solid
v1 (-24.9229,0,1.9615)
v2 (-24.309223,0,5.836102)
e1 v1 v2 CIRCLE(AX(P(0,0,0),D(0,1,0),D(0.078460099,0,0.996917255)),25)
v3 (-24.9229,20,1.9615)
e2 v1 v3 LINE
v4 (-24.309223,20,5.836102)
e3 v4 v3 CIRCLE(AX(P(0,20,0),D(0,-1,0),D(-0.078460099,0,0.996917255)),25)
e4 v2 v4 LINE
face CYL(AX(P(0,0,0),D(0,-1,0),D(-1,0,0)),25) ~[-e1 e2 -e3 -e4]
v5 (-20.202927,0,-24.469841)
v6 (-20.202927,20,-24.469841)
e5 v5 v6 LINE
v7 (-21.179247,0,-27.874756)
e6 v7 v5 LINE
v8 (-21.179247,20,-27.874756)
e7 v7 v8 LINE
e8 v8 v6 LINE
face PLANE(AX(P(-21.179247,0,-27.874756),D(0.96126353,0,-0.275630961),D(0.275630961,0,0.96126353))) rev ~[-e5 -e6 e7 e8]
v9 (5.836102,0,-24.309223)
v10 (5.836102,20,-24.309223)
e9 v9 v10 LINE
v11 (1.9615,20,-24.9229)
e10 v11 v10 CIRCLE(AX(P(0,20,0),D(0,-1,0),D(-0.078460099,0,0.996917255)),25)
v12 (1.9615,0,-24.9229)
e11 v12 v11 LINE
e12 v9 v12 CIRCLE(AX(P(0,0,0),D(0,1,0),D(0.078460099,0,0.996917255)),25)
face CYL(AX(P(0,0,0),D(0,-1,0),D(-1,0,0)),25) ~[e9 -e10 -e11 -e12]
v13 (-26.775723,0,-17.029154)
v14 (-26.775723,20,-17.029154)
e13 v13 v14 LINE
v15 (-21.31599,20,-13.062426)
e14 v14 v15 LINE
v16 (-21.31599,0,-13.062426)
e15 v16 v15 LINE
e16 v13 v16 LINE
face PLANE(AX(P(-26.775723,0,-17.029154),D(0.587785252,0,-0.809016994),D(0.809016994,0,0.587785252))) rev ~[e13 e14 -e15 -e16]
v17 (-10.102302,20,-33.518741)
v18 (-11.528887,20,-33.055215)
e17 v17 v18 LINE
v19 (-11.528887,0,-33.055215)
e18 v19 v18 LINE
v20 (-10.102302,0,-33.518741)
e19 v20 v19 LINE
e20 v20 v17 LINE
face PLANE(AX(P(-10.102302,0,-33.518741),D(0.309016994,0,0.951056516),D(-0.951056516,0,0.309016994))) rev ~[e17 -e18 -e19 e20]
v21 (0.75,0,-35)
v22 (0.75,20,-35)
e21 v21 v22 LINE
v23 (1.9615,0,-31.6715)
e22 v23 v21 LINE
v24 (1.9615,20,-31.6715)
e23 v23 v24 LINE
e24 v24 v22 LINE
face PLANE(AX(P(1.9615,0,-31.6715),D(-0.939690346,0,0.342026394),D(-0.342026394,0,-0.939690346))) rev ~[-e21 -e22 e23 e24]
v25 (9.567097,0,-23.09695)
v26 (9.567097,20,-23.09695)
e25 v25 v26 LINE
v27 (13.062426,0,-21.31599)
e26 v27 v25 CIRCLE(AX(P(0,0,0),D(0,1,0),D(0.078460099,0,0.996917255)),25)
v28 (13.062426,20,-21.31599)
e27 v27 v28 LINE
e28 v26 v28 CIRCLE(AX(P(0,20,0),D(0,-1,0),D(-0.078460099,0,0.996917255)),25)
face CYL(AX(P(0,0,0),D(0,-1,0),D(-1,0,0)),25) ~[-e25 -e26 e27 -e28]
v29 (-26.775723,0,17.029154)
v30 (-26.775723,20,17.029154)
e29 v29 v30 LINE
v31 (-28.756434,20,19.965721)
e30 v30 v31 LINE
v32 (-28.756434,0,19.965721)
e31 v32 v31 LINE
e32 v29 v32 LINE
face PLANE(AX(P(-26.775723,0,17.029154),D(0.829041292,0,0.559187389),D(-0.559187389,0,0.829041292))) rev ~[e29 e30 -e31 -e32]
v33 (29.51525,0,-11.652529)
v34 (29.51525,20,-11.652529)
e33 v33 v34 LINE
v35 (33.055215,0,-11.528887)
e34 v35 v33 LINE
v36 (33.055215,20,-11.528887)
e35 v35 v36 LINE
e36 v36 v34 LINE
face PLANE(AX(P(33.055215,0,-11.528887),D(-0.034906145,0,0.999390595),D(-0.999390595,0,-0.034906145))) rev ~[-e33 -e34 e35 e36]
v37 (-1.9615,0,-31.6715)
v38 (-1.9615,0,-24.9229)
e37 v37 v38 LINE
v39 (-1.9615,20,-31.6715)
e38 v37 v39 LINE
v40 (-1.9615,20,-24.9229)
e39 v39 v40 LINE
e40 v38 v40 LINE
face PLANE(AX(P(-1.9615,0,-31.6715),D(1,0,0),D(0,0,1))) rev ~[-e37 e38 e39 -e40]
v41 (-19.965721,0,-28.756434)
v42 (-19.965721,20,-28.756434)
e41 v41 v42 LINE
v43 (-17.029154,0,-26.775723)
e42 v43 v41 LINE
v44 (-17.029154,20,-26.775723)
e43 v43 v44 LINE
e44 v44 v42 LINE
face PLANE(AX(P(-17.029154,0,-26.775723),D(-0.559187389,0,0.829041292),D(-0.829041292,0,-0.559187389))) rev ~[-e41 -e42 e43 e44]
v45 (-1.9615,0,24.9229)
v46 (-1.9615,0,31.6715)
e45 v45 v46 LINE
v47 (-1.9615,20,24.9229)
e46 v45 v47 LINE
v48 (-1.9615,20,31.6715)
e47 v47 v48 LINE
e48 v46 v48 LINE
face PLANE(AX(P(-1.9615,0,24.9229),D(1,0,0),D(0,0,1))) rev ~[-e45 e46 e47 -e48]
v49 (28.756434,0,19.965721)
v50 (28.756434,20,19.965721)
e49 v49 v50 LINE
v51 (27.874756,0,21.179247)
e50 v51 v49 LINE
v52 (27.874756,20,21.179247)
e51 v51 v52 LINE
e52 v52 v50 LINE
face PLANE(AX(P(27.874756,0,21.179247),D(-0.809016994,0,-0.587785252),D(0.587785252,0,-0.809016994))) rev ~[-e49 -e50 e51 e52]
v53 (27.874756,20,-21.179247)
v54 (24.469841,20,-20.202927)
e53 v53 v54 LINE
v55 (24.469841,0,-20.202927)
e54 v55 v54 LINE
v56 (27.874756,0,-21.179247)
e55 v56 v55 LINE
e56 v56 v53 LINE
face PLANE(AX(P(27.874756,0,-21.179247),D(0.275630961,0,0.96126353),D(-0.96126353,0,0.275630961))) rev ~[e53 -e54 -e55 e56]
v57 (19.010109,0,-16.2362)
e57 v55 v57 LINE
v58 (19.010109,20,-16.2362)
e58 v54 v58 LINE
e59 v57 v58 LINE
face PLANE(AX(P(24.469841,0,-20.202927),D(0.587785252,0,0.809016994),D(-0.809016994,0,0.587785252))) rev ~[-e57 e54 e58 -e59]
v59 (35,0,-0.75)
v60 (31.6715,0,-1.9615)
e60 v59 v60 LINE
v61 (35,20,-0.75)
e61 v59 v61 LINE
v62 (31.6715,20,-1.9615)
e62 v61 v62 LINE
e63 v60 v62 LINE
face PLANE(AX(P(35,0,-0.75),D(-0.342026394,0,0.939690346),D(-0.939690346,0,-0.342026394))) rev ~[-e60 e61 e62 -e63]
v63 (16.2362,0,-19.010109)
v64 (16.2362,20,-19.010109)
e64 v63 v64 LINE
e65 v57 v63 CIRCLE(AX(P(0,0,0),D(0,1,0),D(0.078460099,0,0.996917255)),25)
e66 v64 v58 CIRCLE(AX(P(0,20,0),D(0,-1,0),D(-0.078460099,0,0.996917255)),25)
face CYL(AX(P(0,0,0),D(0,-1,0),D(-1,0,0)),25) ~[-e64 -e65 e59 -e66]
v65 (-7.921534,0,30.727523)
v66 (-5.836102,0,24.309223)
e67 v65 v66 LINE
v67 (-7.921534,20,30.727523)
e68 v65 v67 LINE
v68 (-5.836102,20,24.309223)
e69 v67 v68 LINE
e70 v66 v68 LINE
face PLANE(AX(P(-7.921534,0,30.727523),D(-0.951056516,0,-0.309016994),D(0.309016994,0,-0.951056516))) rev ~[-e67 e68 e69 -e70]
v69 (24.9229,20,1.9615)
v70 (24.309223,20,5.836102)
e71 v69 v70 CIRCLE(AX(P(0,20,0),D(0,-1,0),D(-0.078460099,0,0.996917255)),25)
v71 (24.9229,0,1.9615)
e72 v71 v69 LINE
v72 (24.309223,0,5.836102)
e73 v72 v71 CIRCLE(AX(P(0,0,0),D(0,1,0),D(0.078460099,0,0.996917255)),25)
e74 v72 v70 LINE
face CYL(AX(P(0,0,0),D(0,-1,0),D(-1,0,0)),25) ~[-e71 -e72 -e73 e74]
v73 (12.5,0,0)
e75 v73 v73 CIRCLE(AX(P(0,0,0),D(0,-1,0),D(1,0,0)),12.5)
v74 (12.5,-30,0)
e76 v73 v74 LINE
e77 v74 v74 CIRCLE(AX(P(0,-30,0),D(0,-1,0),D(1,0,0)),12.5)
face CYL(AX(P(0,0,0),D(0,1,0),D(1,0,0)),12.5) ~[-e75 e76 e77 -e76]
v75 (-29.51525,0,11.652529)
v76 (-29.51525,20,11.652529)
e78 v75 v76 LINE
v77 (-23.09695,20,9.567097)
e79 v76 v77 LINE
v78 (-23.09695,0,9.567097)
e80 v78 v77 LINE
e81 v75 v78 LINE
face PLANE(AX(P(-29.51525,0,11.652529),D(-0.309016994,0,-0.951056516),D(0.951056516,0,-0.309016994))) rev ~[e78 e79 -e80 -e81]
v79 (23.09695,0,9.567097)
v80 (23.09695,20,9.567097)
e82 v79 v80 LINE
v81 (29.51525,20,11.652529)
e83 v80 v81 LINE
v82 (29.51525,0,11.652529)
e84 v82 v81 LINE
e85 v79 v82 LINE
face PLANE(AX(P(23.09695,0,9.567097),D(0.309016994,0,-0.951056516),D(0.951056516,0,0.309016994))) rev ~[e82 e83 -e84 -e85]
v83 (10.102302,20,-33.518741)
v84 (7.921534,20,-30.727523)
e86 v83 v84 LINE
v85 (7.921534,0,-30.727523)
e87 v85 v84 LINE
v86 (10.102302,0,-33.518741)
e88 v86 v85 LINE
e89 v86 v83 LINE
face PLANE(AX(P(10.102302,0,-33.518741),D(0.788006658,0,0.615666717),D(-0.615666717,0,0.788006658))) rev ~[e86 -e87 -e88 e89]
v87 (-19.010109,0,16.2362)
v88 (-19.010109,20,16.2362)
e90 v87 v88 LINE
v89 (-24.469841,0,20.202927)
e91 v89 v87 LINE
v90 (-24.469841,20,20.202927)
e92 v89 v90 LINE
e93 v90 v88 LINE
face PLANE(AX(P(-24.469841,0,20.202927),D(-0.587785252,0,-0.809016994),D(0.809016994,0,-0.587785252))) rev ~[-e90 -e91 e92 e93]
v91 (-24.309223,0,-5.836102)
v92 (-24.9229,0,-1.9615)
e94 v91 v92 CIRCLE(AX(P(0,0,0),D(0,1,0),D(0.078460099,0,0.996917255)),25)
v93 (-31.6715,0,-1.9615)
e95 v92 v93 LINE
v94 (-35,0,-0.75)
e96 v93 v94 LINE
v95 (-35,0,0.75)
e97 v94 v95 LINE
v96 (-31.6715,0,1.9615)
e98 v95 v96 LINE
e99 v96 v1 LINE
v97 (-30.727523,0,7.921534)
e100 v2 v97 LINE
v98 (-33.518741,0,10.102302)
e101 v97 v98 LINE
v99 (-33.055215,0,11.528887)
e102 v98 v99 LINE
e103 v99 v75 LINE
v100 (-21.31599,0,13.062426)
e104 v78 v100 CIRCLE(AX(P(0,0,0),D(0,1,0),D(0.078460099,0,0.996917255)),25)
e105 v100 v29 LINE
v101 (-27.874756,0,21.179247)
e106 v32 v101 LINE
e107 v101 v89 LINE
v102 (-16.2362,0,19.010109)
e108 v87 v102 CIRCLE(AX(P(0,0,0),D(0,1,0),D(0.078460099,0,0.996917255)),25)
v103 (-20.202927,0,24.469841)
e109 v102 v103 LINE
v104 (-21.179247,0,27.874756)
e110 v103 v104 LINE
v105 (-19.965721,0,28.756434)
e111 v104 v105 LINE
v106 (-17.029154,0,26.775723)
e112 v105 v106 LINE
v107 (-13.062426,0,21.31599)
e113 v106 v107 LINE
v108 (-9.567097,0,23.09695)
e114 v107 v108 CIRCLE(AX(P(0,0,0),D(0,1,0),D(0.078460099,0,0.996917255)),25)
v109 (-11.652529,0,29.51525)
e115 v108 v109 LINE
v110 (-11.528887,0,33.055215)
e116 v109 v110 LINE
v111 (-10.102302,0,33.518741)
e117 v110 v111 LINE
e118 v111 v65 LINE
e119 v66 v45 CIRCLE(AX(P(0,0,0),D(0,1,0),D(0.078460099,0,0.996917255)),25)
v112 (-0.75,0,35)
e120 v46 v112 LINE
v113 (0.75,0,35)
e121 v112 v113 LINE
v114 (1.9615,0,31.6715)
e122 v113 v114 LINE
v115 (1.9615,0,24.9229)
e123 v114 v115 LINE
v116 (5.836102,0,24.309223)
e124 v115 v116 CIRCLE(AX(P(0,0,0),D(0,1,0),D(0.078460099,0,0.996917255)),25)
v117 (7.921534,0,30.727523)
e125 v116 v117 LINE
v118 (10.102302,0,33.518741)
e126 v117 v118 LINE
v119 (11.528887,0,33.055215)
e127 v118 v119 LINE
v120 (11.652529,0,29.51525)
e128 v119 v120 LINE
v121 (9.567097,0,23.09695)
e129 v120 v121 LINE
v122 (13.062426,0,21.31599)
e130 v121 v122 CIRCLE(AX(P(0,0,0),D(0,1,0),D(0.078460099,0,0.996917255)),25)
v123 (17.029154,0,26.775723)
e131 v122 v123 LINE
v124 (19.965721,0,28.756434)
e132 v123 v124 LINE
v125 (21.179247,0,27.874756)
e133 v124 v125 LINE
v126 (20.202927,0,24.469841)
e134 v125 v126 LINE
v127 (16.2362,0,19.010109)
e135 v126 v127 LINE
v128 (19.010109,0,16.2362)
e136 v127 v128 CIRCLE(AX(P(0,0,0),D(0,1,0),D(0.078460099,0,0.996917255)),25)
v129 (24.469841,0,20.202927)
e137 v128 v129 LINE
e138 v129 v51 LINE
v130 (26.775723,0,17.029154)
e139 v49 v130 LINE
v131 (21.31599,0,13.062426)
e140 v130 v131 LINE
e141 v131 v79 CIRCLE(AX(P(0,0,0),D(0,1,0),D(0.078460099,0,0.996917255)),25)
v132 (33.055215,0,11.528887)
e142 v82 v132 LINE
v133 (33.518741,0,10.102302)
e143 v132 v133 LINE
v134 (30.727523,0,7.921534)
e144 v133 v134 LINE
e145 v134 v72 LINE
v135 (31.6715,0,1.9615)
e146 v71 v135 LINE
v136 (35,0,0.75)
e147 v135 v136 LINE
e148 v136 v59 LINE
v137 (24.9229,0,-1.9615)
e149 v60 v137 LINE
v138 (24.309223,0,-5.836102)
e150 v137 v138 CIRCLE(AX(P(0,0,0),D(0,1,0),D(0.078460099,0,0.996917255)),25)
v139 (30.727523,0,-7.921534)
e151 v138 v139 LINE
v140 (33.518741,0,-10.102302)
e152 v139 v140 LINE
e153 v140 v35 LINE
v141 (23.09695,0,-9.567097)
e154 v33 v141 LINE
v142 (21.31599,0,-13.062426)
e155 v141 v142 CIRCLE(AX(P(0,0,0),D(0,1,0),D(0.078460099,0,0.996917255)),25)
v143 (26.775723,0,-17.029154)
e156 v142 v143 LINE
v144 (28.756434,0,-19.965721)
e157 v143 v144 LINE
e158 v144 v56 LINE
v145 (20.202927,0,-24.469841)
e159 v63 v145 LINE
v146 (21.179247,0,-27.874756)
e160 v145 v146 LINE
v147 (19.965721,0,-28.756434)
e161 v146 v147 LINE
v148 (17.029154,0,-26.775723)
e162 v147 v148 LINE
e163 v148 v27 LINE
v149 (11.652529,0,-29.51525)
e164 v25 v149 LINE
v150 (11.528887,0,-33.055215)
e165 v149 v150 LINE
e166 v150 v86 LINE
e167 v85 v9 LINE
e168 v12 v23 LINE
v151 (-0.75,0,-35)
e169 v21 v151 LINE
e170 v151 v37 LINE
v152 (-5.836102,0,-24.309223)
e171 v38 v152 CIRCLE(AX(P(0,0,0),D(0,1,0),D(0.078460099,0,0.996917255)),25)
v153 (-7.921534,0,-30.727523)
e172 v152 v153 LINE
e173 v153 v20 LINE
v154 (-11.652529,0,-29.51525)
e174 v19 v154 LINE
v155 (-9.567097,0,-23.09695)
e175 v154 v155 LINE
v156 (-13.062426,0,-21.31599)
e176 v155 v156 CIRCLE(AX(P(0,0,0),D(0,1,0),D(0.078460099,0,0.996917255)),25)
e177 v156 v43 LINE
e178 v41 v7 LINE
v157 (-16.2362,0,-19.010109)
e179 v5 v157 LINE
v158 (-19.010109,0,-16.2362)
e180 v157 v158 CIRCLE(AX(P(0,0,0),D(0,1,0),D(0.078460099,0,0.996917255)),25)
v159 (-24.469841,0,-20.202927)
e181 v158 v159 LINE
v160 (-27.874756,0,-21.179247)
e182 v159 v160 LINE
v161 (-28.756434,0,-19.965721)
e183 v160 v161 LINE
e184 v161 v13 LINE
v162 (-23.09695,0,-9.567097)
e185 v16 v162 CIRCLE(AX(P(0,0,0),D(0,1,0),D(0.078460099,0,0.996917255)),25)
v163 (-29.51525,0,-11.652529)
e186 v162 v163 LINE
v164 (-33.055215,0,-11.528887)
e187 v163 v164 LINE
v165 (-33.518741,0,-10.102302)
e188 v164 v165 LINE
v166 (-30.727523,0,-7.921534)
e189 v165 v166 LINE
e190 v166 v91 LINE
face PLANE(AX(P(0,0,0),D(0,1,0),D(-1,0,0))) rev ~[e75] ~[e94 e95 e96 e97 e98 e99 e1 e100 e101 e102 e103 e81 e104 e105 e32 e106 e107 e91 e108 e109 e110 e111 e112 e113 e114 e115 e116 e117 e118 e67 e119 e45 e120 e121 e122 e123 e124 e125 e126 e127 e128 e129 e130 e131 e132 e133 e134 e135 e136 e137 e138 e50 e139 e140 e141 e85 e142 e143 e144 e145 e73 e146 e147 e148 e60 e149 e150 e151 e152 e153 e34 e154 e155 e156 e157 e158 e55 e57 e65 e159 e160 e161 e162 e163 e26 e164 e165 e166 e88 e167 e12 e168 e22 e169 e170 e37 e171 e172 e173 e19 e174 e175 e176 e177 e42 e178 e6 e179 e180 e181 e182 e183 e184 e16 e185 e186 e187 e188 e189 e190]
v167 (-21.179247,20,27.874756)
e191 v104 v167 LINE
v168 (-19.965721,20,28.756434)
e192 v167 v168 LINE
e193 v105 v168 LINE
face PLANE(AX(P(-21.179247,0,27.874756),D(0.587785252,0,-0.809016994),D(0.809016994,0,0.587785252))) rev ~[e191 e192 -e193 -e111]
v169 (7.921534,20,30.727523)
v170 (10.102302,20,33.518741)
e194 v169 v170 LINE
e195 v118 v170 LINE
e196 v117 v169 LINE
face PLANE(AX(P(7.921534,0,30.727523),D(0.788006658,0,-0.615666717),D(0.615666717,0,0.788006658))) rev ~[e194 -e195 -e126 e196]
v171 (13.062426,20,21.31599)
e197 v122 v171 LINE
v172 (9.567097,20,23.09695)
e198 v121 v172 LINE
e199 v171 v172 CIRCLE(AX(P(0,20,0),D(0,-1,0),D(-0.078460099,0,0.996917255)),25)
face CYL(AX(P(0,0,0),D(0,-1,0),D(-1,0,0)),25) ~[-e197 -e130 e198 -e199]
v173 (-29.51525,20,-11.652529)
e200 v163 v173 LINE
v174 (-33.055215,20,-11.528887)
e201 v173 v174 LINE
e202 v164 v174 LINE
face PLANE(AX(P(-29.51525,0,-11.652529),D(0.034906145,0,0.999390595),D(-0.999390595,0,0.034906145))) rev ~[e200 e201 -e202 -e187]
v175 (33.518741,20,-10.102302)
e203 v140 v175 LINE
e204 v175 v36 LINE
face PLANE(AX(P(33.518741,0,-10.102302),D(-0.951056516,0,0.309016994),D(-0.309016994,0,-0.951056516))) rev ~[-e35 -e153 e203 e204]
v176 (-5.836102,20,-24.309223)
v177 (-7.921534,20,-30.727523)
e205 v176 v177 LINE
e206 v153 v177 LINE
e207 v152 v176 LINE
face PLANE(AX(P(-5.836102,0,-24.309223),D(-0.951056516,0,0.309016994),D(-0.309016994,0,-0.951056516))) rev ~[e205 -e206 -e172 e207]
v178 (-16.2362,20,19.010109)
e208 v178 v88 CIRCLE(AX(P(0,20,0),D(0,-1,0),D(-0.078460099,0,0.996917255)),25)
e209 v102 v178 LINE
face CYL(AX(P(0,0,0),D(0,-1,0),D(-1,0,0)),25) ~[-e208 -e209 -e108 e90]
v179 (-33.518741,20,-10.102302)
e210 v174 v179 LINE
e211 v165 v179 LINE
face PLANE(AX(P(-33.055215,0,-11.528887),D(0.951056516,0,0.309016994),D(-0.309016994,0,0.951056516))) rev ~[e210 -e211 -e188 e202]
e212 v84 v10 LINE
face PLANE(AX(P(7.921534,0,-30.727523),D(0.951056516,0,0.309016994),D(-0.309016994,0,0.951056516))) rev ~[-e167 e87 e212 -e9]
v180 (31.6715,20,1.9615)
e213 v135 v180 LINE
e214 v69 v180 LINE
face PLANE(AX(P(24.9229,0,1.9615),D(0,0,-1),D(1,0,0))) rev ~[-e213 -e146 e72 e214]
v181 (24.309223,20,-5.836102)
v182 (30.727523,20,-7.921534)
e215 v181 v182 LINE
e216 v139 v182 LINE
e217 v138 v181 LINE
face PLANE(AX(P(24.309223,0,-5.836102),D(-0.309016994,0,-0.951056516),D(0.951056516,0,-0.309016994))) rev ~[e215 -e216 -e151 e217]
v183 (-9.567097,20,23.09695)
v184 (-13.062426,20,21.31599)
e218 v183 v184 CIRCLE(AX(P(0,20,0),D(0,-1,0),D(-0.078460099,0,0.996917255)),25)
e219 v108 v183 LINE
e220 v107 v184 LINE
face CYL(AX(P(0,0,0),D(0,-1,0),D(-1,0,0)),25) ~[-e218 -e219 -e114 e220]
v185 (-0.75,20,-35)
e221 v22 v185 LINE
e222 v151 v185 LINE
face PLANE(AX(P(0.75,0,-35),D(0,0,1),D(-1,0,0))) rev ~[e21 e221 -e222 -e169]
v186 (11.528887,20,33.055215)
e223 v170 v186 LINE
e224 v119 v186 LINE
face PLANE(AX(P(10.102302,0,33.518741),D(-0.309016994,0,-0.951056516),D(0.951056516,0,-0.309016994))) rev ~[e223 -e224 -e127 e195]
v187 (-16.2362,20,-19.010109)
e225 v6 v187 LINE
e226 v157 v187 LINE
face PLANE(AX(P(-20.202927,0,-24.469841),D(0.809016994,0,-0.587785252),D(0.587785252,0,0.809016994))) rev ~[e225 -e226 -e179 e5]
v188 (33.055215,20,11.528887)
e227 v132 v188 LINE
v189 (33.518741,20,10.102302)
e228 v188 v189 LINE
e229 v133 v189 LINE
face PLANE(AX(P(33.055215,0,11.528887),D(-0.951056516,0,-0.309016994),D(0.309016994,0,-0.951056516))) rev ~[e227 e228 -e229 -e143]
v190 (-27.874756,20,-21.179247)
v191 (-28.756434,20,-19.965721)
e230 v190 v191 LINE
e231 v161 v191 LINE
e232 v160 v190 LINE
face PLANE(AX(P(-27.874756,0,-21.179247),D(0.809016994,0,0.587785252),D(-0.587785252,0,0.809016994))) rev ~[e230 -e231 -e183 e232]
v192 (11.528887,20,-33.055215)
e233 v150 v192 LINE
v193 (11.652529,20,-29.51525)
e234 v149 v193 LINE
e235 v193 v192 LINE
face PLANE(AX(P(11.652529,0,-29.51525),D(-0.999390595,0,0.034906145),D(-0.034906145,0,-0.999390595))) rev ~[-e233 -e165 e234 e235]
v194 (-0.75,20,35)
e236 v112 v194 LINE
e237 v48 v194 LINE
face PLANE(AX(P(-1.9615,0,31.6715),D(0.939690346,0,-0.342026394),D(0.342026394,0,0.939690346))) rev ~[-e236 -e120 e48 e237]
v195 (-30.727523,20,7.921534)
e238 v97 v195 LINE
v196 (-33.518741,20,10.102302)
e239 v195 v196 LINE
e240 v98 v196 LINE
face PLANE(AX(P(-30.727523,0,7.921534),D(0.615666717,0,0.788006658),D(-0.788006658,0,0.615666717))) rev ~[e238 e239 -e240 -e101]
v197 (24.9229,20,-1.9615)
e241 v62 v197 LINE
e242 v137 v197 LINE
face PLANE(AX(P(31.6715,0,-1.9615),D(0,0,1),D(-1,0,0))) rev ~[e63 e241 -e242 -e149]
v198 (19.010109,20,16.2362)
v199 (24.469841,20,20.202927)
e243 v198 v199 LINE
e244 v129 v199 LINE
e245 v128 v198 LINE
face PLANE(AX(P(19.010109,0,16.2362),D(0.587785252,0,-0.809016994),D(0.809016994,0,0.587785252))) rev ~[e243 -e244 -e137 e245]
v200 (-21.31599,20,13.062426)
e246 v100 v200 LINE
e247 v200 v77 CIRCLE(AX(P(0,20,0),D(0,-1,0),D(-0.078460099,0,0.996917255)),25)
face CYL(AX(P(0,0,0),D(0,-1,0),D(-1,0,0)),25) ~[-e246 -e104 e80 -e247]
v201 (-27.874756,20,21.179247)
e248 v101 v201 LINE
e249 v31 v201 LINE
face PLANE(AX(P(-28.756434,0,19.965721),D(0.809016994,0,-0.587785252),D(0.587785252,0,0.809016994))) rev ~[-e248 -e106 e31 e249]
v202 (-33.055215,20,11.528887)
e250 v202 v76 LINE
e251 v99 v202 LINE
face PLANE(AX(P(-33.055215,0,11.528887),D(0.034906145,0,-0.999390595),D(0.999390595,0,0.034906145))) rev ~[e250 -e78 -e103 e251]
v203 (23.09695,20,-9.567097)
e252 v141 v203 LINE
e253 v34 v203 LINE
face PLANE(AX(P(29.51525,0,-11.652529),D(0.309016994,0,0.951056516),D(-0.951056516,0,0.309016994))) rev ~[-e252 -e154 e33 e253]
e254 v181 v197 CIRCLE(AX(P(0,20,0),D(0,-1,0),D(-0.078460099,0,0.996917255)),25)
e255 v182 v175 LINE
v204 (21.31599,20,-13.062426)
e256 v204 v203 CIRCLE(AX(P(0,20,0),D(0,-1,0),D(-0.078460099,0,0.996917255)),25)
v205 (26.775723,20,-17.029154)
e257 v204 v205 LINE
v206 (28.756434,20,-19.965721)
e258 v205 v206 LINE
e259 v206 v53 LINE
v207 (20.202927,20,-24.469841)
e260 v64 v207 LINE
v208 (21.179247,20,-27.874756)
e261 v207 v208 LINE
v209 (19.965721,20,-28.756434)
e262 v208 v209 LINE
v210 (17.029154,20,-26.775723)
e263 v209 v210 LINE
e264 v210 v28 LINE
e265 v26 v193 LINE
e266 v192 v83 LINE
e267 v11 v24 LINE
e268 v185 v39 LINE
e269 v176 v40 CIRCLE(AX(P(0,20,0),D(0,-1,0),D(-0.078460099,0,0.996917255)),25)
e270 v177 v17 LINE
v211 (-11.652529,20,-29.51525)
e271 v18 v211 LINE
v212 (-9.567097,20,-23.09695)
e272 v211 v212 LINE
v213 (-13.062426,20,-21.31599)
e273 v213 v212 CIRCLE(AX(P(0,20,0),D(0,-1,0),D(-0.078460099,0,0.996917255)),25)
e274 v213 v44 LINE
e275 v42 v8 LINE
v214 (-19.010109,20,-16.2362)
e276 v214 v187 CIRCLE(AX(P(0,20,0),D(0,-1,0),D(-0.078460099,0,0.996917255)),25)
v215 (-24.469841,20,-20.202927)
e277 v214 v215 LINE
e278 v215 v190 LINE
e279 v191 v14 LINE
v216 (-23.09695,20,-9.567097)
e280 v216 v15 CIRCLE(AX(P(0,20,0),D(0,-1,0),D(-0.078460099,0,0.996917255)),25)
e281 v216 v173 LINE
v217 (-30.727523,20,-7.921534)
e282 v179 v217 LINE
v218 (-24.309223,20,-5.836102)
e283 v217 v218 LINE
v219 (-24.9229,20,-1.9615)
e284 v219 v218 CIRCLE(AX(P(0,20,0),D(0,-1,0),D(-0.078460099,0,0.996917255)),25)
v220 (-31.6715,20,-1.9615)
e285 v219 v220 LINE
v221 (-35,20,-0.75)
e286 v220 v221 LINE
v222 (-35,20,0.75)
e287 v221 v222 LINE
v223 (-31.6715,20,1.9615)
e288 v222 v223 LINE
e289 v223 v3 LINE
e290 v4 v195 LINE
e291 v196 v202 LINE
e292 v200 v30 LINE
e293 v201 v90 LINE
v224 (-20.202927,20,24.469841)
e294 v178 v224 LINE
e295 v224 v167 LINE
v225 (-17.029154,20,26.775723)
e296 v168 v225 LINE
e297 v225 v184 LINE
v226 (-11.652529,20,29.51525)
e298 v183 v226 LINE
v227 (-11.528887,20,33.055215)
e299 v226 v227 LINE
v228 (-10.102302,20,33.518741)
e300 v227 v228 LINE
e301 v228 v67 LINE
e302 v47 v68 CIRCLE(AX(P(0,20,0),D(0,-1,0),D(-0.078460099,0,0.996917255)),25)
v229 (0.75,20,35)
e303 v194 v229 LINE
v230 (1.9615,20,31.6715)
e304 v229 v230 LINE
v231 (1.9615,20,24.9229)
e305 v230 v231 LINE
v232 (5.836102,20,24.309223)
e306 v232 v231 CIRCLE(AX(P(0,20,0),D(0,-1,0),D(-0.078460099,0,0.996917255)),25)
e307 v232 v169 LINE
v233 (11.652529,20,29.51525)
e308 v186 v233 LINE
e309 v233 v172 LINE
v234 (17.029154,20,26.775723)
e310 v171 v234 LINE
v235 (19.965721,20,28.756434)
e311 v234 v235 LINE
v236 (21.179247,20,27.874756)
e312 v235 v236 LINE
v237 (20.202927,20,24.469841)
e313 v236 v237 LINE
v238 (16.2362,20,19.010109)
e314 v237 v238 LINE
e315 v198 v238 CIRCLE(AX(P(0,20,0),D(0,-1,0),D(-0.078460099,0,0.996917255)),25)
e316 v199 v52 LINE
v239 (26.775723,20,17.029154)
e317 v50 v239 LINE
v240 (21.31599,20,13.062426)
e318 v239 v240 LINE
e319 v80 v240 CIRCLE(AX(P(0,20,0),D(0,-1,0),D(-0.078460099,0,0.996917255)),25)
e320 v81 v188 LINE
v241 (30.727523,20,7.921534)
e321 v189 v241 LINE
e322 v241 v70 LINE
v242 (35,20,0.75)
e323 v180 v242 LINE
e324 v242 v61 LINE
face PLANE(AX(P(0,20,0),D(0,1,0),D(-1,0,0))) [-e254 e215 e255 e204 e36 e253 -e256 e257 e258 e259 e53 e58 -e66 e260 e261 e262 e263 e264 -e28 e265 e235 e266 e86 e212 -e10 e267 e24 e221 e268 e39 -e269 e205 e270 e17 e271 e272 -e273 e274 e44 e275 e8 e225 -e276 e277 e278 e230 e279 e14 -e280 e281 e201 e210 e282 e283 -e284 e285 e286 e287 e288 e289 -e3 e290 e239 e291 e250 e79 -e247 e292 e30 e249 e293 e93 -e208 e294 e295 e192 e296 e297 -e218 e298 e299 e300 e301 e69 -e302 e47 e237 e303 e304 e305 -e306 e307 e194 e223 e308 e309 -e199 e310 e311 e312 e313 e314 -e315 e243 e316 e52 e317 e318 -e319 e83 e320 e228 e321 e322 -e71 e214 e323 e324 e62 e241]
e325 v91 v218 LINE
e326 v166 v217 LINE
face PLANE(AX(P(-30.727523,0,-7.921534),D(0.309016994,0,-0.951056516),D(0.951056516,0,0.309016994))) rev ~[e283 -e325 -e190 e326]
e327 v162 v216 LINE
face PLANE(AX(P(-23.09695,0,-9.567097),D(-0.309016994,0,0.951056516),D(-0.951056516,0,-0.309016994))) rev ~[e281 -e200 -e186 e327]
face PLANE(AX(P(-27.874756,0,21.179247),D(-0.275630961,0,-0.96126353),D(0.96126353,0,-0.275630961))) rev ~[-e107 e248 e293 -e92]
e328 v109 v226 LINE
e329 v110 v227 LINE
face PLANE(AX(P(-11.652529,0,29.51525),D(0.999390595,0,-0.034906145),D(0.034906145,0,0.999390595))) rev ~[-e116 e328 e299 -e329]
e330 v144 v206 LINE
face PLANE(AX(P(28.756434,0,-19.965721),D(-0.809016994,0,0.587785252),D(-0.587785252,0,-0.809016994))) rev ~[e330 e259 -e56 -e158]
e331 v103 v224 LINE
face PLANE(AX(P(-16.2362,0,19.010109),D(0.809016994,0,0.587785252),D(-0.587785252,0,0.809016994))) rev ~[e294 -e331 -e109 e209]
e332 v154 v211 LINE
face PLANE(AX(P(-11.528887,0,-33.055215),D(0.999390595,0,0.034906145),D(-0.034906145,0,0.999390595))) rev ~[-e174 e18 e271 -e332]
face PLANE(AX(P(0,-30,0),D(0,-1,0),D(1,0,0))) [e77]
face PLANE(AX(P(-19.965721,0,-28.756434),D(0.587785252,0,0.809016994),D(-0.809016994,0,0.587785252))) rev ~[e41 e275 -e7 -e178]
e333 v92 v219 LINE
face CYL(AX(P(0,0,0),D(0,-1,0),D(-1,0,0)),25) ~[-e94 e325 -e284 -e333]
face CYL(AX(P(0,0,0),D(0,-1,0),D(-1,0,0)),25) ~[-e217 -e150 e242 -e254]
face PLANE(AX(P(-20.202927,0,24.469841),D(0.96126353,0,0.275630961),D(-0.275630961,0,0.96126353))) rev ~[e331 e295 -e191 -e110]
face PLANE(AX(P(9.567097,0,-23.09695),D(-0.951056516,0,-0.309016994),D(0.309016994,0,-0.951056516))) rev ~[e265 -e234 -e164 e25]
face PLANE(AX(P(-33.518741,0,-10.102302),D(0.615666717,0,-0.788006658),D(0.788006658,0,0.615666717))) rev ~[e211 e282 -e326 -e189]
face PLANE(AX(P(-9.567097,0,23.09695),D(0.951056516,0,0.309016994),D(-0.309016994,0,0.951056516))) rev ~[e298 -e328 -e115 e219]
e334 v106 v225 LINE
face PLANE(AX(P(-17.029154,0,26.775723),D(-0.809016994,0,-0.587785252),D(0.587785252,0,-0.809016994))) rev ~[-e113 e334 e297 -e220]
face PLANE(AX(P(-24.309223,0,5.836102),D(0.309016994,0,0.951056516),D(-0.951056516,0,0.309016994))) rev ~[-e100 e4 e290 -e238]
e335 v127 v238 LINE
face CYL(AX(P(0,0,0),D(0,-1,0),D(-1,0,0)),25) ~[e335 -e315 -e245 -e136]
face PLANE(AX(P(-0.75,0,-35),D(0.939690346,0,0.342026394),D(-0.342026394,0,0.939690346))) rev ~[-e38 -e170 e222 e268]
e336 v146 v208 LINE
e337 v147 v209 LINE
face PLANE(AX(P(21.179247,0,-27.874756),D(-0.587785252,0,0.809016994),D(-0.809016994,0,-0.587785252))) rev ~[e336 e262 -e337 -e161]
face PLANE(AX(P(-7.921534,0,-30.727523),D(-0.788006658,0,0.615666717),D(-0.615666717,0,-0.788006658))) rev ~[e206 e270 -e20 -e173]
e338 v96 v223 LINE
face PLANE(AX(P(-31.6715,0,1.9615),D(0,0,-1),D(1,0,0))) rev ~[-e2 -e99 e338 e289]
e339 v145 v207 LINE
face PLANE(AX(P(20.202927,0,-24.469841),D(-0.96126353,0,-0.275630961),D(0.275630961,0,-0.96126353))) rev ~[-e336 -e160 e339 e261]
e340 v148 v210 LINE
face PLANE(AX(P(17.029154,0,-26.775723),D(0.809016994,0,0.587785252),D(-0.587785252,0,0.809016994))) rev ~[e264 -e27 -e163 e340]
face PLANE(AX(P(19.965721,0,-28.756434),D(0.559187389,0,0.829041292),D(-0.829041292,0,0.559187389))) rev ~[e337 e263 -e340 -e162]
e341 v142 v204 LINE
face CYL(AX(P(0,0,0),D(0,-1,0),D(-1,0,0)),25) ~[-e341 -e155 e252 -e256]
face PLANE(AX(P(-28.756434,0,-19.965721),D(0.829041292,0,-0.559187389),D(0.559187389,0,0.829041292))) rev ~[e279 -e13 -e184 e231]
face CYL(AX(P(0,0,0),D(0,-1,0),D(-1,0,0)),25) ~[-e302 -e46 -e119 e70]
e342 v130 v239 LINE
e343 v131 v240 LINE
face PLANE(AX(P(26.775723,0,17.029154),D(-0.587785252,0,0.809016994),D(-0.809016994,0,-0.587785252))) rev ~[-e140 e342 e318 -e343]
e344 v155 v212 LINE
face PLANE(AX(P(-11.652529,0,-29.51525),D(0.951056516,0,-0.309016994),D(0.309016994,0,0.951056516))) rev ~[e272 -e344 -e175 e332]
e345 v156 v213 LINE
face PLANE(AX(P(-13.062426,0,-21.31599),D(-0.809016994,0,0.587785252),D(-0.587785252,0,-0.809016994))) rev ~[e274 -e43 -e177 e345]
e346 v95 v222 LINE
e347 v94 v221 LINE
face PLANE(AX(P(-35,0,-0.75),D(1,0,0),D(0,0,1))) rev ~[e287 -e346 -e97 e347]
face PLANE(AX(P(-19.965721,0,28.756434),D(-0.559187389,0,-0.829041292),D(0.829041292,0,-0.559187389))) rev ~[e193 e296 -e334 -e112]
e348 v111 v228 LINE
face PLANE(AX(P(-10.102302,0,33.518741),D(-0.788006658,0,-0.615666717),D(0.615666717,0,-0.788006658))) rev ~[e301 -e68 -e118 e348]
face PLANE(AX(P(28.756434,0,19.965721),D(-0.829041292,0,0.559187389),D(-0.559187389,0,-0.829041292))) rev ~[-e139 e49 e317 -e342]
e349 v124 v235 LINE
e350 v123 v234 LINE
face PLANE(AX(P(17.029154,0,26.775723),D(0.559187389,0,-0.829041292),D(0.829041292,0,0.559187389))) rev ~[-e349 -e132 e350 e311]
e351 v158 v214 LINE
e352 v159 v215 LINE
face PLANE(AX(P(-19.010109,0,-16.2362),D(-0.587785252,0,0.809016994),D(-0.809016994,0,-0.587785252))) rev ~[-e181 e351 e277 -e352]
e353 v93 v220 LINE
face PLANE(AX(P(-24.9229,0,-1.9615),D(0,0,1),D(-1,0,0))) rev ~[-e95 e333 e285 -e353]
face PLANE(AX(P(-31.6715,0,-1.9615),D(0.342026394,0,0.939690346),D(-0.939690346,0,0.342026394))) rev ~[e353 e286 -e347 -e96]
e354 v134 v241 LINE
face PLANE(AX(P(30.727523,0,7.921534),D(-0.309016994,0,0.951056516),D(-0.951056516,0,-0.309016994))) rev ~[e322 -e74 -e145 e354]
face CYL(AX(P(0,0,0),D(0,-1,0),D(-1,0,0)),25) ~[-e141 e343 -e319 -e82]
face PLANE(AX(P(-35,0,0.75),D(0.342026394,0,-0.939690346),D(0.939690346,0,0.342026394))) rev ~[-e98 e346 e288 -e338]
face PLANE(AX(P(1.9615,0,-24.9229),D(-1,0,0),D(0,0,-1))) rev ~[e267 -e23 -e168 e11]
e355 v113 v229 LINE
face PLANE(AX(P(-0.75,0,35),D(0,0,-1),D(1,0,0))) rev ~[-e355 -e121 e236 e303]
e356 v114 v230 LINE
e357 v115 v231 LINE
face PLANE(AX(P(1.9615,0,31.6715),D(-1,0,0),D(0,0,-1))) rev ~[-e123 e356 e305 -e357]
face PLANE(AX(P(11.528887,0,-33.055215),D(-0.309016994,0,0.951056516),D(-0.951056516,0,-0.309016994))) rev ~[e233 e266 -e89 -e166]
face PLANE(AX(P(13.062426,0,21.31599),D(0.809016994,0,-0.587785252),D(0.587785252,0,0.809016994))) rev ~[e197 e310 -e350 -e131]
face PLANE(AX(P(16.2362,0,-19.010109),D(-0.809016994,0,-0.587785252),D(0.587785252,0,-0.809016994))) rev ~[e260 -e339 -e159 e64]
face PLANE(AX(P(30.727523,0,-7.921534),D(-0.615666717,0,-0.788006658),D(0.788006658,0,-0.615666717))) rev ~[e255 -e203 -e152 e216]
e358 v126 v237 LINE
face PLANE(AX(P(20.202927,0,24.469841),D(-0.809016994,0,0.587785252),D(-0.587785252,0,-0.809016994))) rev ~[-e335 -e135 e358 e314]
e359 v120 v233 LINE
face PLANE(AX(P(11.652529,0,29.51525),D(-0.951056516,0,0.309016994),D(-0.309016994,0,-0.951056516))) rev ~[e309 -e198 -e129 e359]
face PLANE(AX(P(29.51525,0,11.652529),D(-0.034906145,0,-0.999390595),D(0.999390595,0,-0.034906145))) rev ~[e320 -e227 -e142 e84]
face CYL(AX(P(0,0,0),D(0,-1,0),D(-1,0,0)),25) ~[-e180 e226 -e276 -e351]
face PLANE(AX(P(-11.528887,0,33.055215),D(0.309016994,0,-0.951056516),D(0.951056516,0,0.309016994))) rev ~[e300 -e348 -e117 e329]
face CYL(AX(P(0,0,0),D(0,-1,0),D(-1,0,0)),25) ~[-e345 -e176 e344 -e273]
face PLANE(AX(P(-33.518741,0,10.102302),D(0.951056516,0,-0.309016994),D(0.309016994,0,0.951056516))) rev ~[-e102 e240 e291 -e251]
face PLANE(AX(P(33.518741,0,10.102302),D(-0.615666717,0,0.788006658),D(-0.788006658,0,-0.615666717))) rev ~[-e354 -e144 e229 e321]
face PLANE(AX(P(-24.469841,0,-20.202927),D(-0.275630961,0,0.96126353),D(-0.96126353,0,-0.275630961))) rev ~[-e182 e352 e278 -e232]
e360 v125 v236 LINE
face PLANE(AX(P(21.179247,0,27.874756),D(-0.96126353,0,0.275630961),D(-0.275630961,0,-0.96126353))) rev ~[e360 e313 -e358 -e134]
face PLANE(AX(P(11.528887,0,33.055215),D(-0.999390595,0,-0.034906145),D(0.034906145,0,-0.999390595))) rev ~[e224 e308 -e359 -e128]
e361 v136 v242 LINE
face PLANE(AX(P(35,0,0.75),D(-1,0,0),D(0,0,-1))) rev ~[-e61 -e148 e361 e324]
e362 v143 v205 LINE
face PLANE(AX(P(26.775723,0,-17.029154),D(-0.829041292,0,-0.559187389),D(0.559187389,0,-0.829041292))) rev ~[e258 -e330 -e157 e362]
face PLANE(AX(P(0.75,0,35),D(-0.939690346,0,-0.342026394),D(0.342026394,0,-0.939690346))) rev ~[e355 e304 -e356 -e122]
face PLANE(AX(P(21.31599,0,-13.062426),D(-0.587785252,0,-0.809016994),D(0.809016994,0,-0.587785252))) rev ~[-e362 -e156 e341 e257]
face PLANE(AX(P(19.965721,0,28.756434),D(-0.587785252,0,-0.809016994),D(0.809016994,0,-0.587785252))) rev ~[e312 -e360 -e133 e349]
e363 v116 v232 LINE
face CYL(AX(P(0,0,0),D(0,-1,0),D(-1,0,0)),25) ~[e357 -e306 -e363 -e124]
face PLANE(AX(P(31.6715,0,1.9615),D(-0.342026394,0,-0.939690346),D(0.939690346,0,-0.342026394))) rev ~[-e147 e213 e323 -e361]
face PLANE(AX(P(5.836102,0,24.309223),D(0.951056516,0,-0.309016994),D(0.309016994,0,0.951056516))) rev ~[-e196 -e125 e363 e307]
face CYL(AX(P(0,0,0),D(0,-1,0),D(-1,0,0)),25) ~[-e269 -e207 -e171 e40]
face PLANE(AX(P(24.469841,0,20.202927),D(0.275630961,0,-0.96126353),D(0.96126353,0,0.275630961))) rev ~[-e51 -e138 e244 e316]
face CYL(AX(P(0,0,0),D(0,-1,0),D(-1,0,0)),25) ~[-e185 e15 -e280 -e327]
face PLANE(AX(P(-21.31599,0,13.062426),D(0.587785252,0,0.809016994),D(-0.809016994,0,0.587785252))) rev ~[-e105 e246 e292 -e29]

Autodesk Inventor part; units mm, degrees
ref_plane "YZ Plane" through (0, 0, 0) normal (1, 0, 0) x (0, 1, 0)
ref_plane "XZ Plane" through (0, 0, 0) normal (0, 1, 0) x (-1, 0, 0)
ref_plane "XY Plane" through (0, 0, 0) normal (0, 0, 1) x (1, 0, 0)
sketch "Sketch1" plane through (0, 0, 0) normal (0, 1, 0) x (-1, 0, 0)
  circle A0 centre (0, 0) radius 25
  dimension "d0" = 50
extrude "Extrusion1" add sketch "Sketch1" along normal blind 20
sketch "Sketch2" plane through (0, 0, 0) normal (0, -1, 0) x (1, 0, 0)
  circle A0 centre (0, 0) radius 25 projected
  line L0 (0, 0) -> (-1.9615, 24.9229)
  line L1 (0, 0) -> (1.9615, 24.9229)
  line L2 (0, 0) -> (40.2415, 0) construction
  line L3 (-1.9615, 24.9229) -> (-1.9615, 31.6715)
  line L4 (-1.9615, 31.6715) -> (-0.75, 35)
  line L5 (-0.75, 35) -> (0.75, 35)
  line L6 (0.75, 35) -> (1.9615, 31.6715)
  line L7 (1.9615, 31.6715) -> (1.9615, 24.9229)
  dimension "d3" = 9
  dimension "d4" = 85.5
  dimension "d5" = 10
  dimension "d6" = 110
  dimension "d7" = 110
  dimension "d8" = 1.5
extrude "Extrusion2" add sketch "Sketch2" against normal blind 20 contours A0 L3 L4 L5 L6 L7
pattern_circular "Circular Pattern1" count 20 over 360 about axis through (0, 0, 0) along (0, 1, 0) of "Extrusion2"
sketch "Sketch3" plane through (0, 0, 0) normal (0, -1, 0) x (1, 0, 0)
  circle A0 centre (0, 0) radius 12.5
  dimension "d14" = 25
extrude "Extrusion3" add sketch "Sketch3" along normal blind 30
equation "\"d7\" = d6"
properties part number "HelpGear"
